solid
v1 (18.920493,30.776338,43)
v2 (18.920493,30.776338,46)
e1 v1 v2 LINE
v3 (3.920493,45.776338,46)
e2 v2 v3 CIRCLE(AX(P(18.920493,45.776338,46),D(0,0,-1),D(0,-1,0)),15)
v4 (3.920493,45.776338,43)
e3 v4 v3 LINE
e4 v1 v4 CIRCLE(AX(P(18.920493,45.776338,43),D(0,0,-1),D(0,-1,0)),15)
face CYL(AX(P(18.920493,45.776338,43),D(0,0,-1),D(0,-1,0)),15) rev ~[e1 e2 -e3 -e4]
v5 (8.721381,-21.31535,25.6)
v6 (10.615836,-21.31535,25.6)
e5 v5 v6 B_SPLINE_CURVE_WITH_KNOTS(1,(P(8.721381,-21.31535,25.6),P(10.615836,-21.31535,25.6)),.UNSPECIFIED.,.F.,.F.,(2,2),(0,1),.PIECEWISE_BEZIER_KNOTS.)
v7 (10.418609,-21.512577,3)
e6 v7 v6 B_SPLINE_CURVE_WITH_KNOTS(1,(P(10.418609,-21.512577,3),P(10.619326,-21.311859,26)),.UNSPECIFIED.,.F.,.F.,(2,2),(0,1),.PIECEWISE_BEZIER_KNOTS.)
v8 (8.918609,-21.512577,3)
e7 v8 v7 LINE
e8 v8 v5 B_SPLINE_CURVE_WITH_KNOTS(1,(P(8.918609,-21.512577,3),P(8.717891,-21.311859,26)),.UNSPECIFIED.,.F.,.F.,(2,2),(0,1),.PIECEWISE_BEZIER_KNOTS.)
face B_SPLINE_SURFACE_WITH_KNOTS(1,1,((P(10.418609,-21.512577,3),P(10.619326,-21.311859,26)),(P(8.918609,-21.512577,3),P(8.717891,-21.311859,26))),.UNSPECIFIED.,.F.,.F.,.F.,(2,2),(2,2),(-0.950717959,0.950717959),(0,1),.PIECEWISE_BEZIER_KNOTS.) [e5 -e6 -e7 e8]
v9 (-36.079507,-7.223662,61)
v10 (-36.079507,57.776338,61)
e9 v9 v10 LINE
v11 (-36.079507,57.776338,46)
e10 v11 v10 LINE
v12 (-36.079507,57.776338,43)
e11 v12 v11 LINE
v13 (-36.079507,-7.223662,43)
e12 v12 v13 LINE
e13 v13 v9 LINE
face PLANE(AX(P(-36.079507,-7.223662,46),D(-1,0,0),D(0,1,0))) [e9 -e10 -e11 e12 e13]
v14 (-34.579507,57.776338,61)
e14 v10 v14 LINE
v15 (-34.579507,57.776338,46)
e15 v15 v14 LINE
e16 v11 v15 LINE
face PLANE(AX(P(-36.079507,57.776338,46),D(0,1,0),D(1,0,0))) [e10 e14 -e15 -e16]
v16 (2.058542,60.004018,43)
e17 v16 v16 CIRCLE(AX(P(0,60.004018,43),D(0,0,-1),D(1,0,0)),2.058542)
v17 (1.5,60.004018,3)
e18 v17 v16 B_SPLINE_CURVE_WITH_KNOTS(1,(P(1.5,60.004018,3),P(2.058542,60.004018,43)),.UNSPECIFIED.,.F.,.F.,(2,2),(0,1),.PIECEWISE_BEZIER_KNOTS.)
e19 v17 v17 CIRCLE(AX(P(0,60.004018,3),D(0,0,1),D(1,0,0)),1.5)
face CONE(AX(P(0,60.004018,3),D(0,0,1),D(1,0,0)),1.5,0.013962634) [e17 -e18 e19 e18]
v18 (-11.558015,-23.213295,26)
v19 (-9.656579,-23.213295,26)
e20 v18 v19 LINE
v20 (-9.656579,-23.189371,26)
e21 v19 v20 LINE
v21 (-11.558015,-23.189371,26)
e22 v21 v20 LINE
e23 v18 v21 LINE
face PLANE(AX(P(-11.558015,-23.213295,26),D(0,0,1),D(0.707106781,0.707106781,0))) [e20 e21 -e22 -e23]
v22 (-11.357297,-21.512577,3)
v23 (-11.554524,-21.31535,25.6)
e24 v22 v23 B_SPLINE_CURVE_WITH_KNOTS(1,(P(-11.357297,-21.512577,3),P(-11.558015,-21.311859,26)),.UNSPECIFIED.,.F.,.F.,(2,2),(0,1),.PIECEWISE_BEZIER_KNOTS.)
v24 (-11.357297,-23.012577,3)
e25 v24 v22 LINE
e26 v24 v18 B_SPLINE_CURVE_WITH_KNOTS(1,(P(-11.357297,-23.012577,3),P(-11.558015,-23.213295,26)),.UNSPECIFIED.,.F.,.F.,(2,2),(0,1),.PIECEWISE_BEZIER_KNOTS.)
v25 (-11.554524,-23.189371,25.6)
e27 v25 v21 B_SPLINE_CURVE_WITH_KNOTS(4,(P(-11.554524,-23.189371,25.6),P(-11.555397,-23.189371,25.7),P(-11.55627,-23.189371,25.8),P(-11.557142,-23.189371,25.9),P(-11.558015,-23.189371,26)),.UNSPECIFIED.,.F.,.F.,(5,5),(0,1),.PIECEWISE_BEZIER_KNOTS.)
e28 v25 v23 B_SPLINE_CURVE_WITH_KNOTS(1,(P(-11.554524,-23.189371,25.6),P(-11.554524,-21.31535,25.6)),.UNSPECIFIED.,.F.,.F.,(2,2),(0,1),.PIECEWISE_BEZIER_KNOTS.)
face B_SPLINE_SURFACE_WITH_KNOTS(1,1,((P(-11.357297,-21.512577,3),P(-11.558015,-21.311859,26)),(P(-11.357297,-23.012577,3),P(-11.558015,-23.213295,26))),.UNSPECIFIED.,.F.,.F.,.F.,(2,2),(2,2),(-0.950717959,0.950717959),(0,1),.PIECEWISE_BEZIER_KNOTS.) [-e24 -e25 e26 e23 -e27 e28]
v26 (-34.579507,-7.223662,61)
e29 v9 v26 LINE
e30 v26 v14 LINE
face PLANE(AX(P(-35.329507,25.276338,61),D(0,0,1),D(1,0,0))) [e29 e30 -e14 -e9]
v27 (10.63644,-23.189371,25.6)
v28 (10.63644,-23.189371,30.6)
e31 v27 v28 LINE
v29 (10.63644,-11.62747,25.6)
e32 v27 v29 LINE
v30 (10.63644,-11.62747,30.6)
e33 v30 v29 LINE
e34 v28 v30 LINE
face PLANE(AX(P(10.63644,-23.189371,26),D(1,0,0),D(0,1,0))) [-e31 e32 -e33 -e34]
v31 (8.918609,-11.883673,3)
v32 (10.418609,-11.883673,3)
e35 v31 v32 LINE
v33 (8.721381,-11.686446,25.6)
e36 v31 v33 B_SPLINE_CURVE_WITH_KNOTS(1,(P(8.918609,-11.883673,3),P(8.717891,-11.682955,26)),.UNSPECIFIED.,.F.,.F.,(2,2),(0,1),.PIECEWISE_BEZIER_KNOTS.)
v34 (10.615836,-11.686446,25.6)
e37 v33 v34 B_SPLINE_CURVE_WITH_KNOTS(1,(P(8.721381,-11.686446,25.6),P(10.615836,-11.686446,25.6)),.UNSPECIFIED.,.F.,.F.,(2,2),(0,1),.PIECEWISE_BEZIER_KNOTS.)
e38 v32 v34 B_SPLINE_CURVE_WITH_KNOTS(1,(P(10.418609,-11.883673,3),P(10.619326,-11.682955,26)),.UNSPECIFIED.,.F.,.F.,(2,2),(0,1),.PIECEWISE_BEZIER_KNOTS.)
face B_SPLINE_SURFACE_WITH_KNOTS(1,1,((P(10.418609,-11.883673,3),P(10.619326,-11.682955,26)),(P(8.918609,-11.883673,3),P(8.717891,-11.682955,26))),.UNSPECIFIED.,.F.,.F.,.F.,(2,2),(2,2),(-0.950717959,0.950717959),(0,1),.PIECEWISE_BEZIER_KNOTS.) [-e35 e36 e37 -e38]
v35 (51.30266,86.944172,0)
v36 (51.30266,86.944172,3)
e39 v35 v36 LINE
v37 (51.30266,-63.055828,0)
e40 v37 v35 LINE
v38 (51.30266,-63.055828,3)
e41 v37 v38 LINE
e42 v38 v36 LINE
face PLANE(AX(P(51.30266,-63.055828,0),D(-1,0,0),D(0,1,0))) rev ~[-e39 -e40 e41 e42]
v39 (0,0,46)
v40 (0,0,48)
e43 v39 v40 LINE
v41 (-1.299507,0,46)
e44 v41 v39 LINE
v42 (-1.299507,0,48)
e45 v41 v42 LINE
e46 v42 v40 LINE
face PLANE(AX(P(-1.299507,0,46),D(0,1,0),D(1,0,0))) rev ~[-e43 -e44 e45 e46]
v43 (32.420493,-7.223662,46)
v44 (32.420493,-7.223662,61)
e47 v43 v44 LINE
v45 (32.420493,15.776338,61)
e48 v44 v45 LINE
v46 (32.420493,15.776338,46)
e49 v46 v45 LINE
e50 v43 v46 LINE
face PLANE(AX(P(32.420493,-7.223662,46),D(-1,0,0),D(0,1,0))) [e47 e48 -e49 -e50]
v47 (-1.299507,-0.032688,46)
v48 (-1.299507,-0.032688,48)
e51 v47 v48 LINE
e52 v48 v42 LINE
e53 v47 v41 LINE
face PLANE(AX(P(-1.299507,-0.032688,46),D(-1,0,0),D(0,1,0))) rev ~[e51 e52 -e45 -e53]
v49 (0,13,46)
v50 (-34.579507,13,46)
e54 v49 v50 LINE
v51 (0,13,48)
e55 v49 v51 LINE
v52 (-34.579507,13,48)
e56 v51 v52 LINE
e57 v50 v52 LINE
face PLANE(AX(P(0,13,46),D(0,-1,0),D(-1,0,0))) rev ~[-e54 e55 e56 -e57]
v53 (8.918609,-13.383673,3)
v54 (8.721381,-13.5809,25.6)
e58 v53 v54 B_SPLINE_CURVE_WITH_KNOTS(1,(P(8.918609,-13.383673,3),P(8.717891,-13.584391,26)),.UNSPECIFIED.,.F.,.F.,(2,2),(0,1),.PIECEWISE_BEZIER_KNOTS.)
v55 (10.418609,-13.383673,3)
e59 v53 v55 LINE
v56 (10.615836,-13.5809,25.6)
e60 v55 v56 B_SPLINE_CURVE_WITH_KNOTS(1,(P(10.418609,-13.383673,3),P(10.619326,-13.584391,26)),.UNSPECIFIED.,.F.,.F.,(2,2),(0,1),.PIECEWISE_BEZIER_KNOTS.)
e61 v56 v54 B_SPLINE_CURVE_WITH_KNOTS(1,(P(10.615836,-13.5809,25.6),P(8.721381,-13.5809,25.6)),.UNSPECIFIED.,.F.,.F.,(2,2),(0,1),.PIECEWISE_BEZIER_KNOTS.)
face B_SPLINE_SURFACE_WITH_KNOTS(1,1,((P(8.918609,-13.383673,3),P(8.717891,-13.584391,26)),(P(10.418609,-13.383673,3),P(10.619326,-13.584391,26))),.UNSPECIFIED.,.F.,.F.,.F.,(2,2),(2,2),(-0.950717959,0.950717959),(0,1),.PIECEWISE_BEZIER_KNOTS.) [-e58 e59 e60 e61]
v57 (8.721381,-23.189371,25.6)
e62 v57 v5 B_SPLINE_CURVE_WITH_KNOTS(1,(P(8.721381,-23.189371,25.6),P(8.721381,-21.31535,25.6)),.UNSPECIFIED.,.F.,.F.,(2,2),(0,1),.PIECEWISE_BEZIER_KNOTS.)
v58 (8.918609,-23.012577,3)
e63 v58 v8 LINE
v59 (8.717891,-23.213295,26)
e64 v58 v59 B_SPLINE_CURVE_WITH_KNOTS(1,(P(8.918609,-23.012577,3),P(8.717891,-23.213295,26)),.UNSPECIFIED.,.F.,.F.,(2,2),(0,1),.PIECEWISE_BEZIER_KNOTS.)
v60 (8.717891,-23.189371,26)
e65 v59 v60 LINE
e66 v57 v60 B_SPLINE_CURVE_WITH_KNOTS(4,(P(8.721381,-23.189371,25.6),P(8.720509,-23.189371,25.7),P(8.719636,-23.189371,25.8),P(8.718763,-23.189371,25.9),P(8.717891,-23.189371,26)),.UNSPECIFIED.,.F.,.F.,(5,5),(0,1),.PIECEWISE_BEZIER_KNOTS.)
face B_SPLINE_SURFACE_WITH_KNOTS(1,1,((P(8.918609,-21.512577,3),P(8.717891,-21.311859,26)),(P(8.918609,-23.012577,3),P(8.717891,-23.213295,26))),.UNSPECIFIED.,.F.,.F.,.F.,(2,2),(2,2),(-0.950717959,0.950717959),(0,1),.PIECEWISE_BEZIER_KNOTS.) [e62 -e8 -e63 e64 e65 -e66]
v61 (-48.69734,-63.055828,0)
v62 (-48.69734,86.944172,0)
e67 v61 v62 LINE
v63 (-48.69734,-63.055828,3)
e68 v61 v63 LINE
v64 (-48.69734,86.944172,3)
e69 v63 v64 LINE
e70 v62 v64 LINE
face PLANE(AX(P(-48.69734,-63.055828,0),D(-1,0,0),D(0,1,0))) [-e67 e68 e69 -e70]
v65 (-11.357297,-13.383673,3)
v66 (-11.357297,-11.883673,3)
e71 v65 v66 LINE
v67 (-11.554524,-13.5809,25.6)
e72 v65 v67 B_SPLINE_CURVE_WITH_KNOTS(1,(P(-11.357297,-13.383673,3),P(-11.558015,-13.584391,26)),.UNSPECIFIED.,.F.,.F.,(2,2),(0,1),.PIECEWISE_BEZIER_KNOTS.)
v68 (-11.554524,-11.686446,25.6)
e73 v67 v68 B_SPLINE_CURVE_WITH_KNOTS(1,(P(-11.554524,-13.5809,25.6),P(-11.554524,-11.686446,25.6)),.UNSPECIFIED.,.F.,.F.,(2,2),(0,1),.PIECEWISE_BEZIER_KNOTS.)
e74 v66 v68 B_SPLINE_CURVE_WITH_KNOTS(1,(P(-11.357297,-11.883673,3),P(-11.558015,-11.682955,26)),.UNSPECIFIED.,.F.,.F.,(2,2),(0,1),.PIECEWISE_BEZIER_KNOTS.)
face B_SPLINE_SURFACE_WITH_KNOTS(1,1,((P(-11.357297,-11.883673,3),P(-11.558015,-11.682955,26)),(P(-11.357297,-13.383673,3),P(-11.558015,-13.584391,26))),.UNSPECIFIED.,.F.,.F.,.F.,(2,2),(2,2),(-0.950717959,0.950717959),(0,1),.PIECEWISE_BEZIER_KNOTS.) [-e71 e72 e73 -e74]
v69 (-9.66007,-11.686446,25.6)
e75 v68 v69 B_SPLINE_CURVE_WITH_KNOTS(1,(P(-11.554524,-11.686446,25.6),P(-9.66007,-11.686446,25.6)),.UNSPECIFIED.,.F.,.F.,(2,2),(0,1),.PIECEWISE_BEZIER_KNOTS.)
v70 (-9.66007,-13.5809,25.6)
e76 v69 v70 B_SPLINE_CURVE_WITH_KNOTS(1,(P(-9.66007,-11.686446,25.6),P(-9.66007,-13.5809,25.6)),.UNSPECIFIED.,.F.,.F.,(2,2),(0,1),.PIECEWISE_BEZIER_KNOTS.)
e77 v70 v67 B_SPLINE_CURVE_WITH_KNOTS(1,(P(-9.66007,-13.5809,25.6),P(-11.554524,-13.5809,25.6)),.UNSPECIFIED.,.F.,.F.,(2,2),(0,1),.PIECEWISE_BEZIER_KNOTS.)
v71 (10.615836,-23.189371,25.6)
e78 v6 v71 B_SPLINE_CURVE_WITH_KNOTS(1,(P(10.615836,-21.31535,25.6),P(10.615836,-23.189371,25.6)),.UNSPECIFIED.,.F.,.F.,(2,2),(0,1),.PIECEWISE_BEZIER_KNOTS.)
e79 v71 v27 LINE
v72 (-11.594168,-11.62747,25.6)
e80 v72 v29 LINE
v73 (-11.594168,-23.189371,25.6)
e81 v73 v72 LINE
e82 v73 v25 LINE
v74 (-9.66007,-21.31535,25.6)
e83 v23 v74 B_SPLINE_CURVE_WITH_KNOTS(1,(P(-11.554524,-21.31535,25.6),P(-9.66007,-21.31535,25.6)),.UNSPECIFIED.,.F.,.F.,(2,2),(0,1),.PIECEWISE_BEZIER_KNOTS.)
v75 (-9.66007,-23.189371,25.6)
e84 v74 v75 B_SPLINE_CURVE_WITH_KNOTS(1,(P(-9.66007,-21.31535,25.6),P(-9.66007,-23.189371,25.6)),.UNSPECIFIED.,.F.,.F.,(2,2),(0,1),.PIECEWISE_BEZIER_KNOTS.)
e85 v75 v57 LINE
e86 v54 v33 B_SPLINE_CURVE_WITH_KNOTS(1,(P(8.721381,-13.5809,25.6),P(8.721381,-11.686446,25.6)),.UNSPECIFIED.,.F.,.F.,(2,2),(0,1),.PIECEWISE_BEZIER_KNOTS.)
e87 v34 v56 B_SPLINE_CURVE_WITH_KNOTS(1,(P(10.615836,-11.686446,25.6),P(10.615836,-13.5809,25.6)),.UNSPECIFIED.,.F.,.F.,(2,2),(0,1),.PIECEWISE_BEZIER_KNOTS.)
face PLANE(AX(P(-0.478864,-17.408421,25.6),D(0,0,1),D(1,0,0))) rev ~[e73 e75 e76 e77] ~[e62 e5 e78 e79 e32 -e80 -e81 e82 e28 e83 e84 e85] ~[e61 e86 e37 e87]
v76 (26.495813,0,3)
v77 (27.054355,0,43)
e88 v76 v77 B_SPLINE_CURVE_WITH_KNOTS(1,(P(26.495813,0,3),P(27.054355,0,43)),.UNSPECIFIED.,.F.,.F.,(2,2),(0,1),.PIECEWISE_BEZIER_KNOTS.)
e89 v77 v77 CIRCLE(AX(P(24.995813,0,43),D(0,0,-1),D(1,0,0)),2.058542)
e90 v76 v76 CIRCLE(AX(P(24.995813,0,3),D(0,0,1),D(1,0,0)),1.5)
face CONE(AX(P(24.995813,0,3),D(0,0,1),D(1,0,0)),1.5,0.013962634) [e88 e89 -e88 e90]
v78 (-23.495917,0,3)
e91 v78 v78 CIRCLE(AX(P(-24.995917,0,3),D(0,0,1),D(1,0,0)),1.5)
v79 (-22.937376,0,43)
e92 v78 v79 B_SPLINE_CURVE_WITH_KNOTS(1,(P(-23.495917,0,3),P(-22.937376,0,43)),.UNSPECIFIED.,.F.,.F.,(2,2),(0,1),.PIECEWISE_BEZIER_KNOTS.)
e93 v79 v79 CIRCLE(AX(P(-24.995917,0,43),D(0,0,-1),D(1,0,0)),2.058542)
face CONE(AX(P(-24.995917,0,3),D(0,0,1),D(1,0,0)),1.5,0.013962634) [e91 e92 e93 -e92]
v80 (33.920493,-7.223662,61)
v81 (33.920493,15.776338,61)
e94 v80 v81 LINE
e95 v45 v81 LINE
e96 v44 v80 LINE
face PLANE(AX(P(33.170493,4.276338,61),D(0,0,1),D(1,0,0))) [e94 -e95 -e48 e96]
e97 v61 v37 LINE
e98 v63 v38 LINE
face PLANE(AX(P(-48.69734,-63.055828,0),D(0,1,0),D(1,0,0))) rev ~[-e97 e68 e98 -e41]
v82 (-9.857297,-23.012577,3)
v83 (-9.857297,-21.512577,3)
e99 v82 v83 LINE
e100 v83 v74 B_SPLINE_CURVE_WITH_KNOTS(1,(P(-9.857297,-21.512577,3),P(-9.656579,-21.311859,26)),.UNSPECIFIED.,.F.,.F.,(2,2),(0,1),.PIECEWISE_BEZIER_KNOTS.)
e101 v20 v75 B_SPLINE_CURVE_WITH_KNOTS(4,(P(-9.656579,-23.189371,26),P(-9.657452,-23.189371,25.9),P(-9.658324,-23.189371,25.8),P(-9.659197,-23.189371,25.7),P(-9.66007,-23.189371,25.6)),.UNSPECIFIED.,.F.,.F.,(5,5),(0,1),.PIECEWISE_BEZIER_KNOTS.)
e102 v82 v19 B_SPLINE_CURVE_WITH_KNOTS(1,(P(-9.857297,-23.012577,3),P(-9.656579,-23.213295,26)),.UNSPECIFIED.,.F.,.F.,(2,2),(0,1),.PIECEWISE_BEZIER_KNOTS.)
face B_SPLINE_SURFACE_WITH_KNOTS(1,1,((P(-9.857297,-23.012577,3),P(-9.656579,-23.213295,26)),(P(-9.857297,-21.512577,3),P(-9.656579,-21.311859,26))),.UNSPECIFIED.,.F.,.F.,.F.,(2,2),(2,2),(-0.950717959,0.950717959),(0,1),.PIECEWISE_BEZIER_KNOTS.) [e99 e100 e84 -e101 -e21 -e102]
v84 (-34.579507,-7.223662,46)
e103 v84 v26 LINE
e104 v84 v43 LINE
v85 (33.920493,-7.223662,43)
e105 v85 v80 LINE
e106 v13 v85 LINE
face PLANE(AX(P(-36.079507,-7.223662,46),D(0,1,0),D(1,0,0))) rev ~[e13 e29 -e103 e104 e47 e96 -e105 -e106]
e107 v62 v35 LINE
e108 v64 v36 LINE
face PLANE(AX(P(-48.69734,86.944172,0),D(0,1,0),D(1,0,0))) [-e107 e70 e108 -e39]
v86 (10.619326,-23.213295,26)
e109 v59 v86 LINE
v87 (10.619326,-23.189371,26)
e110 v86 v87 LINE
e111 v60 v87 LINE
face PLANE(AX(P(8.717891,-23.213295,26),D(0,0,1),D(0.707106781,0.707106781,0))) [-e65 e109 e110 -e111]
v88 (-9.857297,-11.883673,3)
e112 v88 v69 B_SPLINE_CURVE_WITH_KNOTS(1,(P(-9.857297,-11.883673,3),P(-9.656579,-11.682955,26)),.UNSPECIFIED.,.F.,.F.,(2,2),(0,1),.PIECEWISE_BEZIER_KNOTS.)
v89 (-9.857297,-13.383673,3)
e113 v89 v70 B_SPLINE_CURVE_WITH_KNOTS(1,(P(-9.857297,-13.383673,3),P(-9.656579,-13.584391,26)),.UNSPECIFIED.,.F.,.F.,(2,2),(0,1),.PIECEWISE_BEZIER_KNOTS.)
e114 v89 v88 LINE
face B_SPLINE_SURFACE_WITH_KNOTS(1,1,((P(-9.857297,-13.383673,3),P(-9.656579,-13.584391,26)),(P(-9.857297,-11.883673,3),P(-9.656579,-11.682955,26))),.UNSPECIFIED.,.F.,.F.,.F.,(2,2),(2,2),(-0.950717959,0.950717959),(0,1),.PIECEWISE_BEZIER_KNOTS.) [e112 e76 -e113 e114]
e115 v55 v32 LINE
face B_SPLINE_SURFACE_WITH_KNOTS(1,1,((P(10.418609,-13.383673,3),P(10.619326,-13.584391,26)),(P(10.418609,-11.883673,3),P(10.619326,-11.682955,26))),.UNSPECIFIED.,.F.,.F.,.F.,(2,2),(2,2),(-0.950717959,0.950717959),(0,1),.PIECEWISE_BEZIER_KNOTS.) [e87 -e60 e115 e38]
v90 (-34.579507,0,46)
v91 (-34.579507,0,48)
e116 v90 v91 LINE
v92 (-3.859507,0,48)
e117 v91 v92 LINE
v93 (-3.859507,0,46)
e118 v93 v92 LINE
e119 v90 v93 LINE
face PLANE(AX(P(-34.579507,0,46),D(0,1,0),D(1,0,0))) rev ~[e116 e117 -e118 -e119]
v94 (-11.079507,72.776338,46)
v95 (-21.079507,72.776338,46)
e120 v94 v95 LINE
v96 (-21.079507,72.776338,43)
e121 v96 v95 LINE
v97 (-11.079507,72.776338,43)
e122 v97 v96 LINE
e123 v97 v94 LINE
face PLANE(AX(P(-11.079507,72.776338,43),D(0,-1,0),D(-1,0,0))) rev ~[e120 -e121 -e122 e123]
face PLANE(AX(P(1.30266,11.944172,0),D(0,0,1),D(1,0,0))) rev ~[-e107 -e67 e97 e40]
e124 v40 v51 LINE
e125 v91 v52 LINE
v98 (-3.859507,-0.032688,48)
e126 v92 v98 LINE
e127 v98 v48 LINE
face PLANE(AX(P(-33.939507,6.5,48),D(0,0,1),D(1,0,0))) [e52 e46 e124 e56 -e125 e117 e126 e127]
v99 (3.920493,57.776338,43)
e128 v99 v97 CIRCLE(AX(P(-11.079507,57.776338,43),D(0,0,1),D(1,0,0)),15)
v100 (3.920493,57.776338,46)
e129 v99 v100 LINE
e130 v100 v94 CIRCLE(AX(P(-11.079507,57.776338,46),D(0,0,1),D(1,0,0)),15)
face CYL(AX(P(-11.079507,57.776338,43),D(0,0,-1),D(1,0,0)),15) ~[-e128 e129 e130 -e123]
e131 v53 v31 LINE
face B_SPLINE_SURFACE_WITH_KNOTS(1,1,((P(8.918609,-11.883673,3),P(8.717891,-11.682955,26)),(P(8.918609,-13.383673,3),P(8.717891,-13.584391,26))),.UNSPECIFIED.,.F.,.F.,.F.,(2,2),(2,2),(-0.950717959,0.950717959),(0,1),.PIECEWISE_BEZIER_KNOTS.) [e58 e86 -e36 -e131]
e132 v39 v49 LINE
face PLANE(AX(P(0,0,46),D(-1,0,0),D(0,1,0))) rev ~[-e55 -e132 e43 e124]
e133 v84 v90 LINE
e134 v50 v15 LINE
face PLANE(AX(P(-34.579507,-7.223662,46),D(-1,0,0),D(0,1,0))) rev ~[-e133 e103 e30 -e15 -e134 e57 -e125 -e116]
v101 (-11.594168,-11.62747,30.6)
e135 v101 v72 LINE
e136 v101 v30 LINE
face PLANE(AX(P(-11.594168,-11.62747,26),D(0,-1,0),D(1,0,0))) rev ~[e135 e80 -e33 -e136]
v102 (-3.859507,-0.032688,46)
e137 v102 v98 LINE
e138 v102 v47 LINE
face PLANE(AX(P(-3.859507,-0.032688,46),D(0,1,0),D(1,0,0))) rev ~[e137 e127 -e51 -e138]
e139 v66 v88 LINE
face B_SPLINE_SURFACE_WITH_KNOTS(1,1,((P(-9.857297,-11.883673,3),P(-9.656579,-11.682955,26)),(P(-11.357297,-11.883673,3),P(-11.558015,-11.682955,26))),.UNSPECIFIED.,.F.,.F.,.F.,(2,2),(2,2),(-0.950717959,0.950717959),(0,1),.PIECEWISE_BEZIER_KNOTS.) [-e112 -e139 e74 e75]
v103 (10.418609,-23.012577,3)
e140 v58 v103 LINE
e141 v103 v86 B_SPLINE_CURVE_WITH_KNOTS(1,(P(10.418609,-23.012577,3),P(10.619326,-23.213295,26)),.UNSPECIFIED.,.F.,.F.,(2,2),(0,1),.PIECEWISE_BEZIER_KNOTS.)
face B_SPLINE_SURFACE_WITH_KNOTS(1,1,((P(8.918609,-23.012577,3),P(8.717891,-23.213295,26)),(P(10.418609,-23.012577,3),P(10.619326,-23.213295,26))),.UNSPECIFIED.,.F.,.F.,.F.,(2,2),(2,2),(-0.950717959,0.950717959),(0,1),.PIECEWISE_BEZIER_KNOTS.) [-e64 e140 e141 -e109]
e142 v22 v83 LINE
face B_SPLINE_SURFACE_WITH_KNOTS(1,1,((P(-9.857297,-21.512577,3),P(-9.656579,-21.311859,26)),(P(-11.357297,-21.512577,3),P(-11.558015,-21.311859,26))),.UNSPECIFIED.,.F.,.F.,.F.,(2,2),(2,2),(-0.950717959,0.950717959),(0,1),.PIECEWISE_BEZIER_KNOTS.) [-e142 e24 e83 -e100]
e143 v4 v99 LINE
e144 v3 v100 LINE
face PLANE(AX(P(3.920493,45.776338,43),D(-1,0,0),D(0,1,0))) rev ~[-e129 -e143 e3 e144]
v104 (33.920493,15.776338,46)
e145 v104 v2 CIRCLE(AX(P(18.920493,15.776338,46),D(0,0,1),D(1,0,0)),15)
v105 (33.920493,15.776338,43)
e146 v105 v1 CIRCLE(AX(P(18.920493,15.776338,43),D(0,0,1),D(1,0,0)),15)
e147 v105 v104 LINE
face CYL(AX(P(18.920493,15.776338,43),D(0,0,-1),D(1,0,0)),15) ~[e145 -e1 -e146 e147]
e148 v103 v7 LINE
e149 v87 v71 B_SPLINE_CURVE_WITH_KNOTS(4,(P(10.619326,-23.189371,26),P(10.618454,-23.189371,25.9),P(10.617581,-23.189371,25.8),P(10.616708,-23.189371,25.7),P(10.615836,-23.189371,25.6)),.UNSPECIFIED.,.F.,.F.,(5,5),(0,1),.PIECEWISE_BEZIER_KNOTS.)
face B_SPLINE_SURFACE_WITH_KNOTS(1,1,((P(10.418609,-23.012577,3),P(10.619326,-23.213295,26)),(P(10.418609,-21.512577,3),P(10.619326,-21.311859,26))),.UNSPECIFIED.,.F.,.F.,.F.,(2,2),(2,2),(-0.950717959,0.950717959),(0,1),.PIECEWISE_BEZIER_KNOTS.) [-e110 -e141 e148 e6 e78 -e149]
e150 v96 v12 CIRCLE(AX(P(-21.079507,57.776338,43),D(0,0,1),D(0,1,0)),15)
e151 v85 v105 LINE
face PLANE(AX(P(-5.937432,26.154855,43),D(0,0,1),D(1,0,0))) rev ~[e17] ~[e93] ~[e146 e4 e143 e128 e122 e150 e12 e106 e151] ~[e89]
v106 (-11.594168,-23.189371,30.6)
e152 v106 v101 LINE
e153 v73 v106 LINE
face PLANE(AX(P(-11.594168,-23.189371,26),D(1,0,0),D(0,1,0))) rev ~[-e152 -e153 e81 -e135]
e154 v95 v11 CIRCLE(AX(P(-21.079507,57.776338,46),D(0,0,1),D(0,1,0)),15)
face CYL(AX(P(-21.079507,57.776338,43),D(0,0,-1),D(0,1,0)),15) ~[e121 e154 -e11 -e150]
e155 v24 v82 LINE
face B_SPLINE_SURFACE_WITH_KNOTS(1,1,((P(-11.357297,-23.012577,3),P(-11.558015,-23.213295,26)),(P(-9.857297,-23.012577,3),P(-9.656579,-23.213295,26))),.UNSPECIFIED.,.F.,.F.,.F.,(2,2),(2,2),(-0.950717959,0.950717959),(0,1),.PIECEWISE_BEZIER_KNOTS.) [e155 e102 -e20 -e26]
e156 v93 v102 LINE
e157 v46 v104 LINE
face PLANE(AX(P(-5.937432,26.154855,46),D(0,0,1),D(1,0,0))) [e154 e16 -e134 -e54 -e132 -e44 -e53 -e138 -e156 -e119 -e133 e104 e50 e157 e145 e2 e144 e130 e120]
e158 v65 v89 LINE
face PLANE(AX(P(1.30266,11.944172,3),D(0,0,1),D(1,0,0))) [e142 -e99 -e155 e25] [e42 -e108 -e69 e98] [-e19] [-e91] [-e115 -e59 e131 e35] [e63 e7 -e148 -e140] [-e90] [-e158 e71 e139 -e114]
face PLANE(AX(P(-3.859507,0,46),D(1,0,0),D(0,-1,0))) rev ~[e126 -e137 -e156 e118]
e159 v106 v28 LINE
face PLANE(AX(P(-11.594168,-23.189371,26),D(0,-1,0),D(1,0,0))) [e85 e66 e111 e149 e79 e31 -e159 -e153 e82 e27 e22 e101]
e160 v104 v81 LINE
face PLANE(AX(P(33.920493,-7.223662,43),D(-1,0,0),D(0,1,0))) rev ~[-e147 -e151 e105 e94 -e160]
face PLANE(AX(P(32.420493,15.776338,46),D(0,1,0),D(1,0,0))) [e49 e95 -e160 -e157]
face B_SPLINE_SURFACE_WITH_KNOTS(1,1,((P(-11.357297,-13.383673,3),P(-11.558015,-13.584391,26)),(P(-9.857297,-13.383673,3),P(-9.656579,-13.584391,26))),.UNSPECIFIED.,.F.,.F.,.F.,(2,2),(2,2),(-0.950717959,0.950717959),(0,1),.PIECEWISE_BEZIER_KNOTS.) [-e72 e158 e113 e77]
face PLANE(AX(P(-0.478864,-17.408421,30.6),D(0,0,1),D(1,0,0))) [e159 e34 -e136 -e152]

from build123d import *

# Parameters (mm, degrees)
F0_W          = 100
F0_H          = 150
F1_DEPTH      = 3
F2_R          = 1.5
F3_DEPTH      = 40
F3_TAPER      = -0.8
F4_W          = 1.5
F4_H          = 1.5
F5_DEPTH      = 23
F5_TAPER      = -0.5
F6_W          = 22.2306074575
F6_H          = 11.5619013086
F7_DEPTH      = 4.6
F7_DEPTH_BACK = 0.4
F9_DEPTH      = 3
F10_W         = 1.5
F10_H         = 65
F10_H_2       = 23
F11_DEPTH     = 15
F12_W         = 1.28
F12_H         = 13
F12_W_2       = 1.2995073211
F13_DEPTH     = 2


with BuildPart() as f1:
    # F0 (on Top) → F1 (new body)
    with BuildSketch(Plane.XY):
        with Locations((1.3026602566, 11.9441717863)):
            Rectangle(F0_W, F0_H)
    extrude(amount=F1_DEPTH)

    # F2 (on face) → F3 (join)
    with BuildSketch(Plane.XY.offset(3)):
        with Locations((0, 60.0040182471)):
            Circle(F2_R)
        with Locations((-24.9959174544, 0)):
            Circle(F2_R)
        with Locations((24.9958131462, 0)):
            Circle(F2_R)
    extrude(amount=F3_DEPTH, taper=F3_TAPER)

    # F4 (on face) → F5 (join)
    with BuildSketch(Plane.XY.offset(3)):
        with Locations((-10.6072969437, -12.6336732581)):
            Rectangle(F4_W, F4_H)
        with Locations((9.6686085388, -12.6336732581)):
            Rectangle(F4_W, F4_H)
        with Locations((-10.6072969437, -22.2625773102)):
            Rectangle(F4_W, F4_H)
        with Locations((9.6686085388, -22.2625773102)):
            Rectangle(F4_W, F4_H)
    extrude(amount=F5_DEPTH, taper=F5_TAPER)

    # F6 (on face) → F7 (join, two sides)
    with BuildSketch(Plane.XY.offset(26)) as f7_sk:
        with Locations((-0.4788641818, -17.4084207974)):
            Rectangle(F6_W, F6_H)
    extrude(amount=F7_DEPTH)
    extrude(f7_sk.sketch, amount=-F7_DEPTH_BACK)

    # F8 (on face) → F9 (join)
    with BuildSketch(Plane.XY.offset(43)):
        with BuildLine():
            Line((-36.0795073211, 57.7763375454), (-36.0795073211, -7.2236624546))
            Line((-36.0795073211, -7.2236624546), (33.9204926789, -7.2236624546))
            Line((33.9204926789, -7.2236624546), (33.9204926789, 15.7763375454))
            ThreePointArc((33.9204926789, 15.7763375454), (29.5270943967, 26.3829392632), (18.9204926789, 30.7763375454))
            ThreePointArc((18.9204926789, 30.7763375454), (8.3138909611, 35.1697358276), (3.9204926789, 45.7763375454))
            Line((3.9204926789, 45.7763375454), (3.9204926789, 57.7763375454))
            ThreePointArc((3.9204926789, 57.7763375454), (-0.4729056033, 68.3829392632), (-11.0795073211, 72.7763375454))
            Line((-11.0795073211, 72.7763375454), (-21.0795073211, 72.7763375454))
            ThreePointArc((-21.0795073211, 72.7763375454), (-31.6861090389, 68.3829392632), (-36.0795073211, 57.7763375454))
        make_face()
    extrude(amount=F9_DEPTH)

    # F10 (on face) → F11 (join)
    with BuildSketch(Plane.XY.offset(46)):
        with Locations((-35.3295073211, 25.2763375454)):
            Rectangle(F10_W, F10_H)
        with Locations((33.1704926789, 4.2763375454)):
            Rectangle(F10_W, F10_H_2)
    extrude(amount=F11_DEPTH)

    # F12 (on face) → F13 (join)
    with BuildSketch(Plane.XY.offset(46)):
        with Locations((-33.9395073211, 6.5)):
            Rectangle(F12_W, F12_H)
        with Locations((-32.6595073211, 6.5)):
            Rectangle(F12_W, F12_H)
        with Locations((-31.3795073211, 6.5)):
            Rectangle(F12_W, F12_H)
        with Locations((-30.0995073211, 6.5)):
            Rectangle(F12_W, F12_H)
        with Locations((-28.8195073211, 6.5)):
            Rectangle(F12_W, F12_H)
        with Locations((-27.5395073211, 6.5)):
            Rectangle(F12_W, F12_H)
        with Locations((-26.2595073211, 6.5)):
            Rectangle(F12_W, F12_H)
        with Locations((-24.9795073211, 6.5)):
            Rectangle(F12_W, F12_H)
        with Locations((-23.6995073211, 6.5)):
            Rectangle(F12_W, F12_H)
        with Locations((-22.4195073211, 6.5)):
            Rectangle(F12_W, F12_H)
        with Locations((-21.1395073211, 6.5)):
            Rectangle(F12_W, F12_H)
        with Locations((-19.8595073211, 6.5)):
            Rectangle(F12_W, F12_H)
        with Locations((-18.5795073211, 6.5)):
            Rectangle(F12_W, F12_H)
        with Locations((-17.2995073211, 6.5)):
            Rectangle(F12_W, F12_H)
        with Locations((-16.0195073211, 6.5)):
            Rectangle(F12_W, F12_H)
        with Locations((-14.7395073211, 6.5)):
            Rectangle(F12_W, F12_H)
        with Locations((-13.4595073211, 6.5)):
            Rectangle(F12_W, F12_H)
        with Locations((-12.1795073211, 6.5)):
            Rectangle(F12_W, F12_H)
        with Locations((-10.8995073211, 6.5)):
            Rectangle(F12_W, F12_H)
        with Locations((-9.6195073211, 6.5)):
            Rectangle(F12_W, F12_H)
        with Locations((-8.3395073211, 6.5)):
            Rectangle(F12_W, F12_H)
        with Locations((-7.0595073211, 6.5)):
            Rectangle(F12_W, F12_H)
        with Locations((-5.7795073211, 6.5)):
            Rectangle(F12_W, F12_H)
        with Locations((-4.4995073211, 6.5)):
            Rectangle(F12_W, F12_H)
        Polygon((-3.8595073211, 13), (-3.8595073211, 0), (-3.8595073211, -0.0326875597), (-2.5795073211, -0.0326875597), (-2.5795073211, 13), align=None)
        Polygon((-1.2995073211, 13), (-2.5795073211, 13), (-2.5795073211, -0.0326875597), (-1.2995073211, -0.0326875597), (-1.2995073211, 0), align=None)
        with Locations((-0.6497536606, 6.5)):
            Rectangle(F12_W_2, F12_H)
    extrude(amount=F13_DEPTH)


solid = f1.part
